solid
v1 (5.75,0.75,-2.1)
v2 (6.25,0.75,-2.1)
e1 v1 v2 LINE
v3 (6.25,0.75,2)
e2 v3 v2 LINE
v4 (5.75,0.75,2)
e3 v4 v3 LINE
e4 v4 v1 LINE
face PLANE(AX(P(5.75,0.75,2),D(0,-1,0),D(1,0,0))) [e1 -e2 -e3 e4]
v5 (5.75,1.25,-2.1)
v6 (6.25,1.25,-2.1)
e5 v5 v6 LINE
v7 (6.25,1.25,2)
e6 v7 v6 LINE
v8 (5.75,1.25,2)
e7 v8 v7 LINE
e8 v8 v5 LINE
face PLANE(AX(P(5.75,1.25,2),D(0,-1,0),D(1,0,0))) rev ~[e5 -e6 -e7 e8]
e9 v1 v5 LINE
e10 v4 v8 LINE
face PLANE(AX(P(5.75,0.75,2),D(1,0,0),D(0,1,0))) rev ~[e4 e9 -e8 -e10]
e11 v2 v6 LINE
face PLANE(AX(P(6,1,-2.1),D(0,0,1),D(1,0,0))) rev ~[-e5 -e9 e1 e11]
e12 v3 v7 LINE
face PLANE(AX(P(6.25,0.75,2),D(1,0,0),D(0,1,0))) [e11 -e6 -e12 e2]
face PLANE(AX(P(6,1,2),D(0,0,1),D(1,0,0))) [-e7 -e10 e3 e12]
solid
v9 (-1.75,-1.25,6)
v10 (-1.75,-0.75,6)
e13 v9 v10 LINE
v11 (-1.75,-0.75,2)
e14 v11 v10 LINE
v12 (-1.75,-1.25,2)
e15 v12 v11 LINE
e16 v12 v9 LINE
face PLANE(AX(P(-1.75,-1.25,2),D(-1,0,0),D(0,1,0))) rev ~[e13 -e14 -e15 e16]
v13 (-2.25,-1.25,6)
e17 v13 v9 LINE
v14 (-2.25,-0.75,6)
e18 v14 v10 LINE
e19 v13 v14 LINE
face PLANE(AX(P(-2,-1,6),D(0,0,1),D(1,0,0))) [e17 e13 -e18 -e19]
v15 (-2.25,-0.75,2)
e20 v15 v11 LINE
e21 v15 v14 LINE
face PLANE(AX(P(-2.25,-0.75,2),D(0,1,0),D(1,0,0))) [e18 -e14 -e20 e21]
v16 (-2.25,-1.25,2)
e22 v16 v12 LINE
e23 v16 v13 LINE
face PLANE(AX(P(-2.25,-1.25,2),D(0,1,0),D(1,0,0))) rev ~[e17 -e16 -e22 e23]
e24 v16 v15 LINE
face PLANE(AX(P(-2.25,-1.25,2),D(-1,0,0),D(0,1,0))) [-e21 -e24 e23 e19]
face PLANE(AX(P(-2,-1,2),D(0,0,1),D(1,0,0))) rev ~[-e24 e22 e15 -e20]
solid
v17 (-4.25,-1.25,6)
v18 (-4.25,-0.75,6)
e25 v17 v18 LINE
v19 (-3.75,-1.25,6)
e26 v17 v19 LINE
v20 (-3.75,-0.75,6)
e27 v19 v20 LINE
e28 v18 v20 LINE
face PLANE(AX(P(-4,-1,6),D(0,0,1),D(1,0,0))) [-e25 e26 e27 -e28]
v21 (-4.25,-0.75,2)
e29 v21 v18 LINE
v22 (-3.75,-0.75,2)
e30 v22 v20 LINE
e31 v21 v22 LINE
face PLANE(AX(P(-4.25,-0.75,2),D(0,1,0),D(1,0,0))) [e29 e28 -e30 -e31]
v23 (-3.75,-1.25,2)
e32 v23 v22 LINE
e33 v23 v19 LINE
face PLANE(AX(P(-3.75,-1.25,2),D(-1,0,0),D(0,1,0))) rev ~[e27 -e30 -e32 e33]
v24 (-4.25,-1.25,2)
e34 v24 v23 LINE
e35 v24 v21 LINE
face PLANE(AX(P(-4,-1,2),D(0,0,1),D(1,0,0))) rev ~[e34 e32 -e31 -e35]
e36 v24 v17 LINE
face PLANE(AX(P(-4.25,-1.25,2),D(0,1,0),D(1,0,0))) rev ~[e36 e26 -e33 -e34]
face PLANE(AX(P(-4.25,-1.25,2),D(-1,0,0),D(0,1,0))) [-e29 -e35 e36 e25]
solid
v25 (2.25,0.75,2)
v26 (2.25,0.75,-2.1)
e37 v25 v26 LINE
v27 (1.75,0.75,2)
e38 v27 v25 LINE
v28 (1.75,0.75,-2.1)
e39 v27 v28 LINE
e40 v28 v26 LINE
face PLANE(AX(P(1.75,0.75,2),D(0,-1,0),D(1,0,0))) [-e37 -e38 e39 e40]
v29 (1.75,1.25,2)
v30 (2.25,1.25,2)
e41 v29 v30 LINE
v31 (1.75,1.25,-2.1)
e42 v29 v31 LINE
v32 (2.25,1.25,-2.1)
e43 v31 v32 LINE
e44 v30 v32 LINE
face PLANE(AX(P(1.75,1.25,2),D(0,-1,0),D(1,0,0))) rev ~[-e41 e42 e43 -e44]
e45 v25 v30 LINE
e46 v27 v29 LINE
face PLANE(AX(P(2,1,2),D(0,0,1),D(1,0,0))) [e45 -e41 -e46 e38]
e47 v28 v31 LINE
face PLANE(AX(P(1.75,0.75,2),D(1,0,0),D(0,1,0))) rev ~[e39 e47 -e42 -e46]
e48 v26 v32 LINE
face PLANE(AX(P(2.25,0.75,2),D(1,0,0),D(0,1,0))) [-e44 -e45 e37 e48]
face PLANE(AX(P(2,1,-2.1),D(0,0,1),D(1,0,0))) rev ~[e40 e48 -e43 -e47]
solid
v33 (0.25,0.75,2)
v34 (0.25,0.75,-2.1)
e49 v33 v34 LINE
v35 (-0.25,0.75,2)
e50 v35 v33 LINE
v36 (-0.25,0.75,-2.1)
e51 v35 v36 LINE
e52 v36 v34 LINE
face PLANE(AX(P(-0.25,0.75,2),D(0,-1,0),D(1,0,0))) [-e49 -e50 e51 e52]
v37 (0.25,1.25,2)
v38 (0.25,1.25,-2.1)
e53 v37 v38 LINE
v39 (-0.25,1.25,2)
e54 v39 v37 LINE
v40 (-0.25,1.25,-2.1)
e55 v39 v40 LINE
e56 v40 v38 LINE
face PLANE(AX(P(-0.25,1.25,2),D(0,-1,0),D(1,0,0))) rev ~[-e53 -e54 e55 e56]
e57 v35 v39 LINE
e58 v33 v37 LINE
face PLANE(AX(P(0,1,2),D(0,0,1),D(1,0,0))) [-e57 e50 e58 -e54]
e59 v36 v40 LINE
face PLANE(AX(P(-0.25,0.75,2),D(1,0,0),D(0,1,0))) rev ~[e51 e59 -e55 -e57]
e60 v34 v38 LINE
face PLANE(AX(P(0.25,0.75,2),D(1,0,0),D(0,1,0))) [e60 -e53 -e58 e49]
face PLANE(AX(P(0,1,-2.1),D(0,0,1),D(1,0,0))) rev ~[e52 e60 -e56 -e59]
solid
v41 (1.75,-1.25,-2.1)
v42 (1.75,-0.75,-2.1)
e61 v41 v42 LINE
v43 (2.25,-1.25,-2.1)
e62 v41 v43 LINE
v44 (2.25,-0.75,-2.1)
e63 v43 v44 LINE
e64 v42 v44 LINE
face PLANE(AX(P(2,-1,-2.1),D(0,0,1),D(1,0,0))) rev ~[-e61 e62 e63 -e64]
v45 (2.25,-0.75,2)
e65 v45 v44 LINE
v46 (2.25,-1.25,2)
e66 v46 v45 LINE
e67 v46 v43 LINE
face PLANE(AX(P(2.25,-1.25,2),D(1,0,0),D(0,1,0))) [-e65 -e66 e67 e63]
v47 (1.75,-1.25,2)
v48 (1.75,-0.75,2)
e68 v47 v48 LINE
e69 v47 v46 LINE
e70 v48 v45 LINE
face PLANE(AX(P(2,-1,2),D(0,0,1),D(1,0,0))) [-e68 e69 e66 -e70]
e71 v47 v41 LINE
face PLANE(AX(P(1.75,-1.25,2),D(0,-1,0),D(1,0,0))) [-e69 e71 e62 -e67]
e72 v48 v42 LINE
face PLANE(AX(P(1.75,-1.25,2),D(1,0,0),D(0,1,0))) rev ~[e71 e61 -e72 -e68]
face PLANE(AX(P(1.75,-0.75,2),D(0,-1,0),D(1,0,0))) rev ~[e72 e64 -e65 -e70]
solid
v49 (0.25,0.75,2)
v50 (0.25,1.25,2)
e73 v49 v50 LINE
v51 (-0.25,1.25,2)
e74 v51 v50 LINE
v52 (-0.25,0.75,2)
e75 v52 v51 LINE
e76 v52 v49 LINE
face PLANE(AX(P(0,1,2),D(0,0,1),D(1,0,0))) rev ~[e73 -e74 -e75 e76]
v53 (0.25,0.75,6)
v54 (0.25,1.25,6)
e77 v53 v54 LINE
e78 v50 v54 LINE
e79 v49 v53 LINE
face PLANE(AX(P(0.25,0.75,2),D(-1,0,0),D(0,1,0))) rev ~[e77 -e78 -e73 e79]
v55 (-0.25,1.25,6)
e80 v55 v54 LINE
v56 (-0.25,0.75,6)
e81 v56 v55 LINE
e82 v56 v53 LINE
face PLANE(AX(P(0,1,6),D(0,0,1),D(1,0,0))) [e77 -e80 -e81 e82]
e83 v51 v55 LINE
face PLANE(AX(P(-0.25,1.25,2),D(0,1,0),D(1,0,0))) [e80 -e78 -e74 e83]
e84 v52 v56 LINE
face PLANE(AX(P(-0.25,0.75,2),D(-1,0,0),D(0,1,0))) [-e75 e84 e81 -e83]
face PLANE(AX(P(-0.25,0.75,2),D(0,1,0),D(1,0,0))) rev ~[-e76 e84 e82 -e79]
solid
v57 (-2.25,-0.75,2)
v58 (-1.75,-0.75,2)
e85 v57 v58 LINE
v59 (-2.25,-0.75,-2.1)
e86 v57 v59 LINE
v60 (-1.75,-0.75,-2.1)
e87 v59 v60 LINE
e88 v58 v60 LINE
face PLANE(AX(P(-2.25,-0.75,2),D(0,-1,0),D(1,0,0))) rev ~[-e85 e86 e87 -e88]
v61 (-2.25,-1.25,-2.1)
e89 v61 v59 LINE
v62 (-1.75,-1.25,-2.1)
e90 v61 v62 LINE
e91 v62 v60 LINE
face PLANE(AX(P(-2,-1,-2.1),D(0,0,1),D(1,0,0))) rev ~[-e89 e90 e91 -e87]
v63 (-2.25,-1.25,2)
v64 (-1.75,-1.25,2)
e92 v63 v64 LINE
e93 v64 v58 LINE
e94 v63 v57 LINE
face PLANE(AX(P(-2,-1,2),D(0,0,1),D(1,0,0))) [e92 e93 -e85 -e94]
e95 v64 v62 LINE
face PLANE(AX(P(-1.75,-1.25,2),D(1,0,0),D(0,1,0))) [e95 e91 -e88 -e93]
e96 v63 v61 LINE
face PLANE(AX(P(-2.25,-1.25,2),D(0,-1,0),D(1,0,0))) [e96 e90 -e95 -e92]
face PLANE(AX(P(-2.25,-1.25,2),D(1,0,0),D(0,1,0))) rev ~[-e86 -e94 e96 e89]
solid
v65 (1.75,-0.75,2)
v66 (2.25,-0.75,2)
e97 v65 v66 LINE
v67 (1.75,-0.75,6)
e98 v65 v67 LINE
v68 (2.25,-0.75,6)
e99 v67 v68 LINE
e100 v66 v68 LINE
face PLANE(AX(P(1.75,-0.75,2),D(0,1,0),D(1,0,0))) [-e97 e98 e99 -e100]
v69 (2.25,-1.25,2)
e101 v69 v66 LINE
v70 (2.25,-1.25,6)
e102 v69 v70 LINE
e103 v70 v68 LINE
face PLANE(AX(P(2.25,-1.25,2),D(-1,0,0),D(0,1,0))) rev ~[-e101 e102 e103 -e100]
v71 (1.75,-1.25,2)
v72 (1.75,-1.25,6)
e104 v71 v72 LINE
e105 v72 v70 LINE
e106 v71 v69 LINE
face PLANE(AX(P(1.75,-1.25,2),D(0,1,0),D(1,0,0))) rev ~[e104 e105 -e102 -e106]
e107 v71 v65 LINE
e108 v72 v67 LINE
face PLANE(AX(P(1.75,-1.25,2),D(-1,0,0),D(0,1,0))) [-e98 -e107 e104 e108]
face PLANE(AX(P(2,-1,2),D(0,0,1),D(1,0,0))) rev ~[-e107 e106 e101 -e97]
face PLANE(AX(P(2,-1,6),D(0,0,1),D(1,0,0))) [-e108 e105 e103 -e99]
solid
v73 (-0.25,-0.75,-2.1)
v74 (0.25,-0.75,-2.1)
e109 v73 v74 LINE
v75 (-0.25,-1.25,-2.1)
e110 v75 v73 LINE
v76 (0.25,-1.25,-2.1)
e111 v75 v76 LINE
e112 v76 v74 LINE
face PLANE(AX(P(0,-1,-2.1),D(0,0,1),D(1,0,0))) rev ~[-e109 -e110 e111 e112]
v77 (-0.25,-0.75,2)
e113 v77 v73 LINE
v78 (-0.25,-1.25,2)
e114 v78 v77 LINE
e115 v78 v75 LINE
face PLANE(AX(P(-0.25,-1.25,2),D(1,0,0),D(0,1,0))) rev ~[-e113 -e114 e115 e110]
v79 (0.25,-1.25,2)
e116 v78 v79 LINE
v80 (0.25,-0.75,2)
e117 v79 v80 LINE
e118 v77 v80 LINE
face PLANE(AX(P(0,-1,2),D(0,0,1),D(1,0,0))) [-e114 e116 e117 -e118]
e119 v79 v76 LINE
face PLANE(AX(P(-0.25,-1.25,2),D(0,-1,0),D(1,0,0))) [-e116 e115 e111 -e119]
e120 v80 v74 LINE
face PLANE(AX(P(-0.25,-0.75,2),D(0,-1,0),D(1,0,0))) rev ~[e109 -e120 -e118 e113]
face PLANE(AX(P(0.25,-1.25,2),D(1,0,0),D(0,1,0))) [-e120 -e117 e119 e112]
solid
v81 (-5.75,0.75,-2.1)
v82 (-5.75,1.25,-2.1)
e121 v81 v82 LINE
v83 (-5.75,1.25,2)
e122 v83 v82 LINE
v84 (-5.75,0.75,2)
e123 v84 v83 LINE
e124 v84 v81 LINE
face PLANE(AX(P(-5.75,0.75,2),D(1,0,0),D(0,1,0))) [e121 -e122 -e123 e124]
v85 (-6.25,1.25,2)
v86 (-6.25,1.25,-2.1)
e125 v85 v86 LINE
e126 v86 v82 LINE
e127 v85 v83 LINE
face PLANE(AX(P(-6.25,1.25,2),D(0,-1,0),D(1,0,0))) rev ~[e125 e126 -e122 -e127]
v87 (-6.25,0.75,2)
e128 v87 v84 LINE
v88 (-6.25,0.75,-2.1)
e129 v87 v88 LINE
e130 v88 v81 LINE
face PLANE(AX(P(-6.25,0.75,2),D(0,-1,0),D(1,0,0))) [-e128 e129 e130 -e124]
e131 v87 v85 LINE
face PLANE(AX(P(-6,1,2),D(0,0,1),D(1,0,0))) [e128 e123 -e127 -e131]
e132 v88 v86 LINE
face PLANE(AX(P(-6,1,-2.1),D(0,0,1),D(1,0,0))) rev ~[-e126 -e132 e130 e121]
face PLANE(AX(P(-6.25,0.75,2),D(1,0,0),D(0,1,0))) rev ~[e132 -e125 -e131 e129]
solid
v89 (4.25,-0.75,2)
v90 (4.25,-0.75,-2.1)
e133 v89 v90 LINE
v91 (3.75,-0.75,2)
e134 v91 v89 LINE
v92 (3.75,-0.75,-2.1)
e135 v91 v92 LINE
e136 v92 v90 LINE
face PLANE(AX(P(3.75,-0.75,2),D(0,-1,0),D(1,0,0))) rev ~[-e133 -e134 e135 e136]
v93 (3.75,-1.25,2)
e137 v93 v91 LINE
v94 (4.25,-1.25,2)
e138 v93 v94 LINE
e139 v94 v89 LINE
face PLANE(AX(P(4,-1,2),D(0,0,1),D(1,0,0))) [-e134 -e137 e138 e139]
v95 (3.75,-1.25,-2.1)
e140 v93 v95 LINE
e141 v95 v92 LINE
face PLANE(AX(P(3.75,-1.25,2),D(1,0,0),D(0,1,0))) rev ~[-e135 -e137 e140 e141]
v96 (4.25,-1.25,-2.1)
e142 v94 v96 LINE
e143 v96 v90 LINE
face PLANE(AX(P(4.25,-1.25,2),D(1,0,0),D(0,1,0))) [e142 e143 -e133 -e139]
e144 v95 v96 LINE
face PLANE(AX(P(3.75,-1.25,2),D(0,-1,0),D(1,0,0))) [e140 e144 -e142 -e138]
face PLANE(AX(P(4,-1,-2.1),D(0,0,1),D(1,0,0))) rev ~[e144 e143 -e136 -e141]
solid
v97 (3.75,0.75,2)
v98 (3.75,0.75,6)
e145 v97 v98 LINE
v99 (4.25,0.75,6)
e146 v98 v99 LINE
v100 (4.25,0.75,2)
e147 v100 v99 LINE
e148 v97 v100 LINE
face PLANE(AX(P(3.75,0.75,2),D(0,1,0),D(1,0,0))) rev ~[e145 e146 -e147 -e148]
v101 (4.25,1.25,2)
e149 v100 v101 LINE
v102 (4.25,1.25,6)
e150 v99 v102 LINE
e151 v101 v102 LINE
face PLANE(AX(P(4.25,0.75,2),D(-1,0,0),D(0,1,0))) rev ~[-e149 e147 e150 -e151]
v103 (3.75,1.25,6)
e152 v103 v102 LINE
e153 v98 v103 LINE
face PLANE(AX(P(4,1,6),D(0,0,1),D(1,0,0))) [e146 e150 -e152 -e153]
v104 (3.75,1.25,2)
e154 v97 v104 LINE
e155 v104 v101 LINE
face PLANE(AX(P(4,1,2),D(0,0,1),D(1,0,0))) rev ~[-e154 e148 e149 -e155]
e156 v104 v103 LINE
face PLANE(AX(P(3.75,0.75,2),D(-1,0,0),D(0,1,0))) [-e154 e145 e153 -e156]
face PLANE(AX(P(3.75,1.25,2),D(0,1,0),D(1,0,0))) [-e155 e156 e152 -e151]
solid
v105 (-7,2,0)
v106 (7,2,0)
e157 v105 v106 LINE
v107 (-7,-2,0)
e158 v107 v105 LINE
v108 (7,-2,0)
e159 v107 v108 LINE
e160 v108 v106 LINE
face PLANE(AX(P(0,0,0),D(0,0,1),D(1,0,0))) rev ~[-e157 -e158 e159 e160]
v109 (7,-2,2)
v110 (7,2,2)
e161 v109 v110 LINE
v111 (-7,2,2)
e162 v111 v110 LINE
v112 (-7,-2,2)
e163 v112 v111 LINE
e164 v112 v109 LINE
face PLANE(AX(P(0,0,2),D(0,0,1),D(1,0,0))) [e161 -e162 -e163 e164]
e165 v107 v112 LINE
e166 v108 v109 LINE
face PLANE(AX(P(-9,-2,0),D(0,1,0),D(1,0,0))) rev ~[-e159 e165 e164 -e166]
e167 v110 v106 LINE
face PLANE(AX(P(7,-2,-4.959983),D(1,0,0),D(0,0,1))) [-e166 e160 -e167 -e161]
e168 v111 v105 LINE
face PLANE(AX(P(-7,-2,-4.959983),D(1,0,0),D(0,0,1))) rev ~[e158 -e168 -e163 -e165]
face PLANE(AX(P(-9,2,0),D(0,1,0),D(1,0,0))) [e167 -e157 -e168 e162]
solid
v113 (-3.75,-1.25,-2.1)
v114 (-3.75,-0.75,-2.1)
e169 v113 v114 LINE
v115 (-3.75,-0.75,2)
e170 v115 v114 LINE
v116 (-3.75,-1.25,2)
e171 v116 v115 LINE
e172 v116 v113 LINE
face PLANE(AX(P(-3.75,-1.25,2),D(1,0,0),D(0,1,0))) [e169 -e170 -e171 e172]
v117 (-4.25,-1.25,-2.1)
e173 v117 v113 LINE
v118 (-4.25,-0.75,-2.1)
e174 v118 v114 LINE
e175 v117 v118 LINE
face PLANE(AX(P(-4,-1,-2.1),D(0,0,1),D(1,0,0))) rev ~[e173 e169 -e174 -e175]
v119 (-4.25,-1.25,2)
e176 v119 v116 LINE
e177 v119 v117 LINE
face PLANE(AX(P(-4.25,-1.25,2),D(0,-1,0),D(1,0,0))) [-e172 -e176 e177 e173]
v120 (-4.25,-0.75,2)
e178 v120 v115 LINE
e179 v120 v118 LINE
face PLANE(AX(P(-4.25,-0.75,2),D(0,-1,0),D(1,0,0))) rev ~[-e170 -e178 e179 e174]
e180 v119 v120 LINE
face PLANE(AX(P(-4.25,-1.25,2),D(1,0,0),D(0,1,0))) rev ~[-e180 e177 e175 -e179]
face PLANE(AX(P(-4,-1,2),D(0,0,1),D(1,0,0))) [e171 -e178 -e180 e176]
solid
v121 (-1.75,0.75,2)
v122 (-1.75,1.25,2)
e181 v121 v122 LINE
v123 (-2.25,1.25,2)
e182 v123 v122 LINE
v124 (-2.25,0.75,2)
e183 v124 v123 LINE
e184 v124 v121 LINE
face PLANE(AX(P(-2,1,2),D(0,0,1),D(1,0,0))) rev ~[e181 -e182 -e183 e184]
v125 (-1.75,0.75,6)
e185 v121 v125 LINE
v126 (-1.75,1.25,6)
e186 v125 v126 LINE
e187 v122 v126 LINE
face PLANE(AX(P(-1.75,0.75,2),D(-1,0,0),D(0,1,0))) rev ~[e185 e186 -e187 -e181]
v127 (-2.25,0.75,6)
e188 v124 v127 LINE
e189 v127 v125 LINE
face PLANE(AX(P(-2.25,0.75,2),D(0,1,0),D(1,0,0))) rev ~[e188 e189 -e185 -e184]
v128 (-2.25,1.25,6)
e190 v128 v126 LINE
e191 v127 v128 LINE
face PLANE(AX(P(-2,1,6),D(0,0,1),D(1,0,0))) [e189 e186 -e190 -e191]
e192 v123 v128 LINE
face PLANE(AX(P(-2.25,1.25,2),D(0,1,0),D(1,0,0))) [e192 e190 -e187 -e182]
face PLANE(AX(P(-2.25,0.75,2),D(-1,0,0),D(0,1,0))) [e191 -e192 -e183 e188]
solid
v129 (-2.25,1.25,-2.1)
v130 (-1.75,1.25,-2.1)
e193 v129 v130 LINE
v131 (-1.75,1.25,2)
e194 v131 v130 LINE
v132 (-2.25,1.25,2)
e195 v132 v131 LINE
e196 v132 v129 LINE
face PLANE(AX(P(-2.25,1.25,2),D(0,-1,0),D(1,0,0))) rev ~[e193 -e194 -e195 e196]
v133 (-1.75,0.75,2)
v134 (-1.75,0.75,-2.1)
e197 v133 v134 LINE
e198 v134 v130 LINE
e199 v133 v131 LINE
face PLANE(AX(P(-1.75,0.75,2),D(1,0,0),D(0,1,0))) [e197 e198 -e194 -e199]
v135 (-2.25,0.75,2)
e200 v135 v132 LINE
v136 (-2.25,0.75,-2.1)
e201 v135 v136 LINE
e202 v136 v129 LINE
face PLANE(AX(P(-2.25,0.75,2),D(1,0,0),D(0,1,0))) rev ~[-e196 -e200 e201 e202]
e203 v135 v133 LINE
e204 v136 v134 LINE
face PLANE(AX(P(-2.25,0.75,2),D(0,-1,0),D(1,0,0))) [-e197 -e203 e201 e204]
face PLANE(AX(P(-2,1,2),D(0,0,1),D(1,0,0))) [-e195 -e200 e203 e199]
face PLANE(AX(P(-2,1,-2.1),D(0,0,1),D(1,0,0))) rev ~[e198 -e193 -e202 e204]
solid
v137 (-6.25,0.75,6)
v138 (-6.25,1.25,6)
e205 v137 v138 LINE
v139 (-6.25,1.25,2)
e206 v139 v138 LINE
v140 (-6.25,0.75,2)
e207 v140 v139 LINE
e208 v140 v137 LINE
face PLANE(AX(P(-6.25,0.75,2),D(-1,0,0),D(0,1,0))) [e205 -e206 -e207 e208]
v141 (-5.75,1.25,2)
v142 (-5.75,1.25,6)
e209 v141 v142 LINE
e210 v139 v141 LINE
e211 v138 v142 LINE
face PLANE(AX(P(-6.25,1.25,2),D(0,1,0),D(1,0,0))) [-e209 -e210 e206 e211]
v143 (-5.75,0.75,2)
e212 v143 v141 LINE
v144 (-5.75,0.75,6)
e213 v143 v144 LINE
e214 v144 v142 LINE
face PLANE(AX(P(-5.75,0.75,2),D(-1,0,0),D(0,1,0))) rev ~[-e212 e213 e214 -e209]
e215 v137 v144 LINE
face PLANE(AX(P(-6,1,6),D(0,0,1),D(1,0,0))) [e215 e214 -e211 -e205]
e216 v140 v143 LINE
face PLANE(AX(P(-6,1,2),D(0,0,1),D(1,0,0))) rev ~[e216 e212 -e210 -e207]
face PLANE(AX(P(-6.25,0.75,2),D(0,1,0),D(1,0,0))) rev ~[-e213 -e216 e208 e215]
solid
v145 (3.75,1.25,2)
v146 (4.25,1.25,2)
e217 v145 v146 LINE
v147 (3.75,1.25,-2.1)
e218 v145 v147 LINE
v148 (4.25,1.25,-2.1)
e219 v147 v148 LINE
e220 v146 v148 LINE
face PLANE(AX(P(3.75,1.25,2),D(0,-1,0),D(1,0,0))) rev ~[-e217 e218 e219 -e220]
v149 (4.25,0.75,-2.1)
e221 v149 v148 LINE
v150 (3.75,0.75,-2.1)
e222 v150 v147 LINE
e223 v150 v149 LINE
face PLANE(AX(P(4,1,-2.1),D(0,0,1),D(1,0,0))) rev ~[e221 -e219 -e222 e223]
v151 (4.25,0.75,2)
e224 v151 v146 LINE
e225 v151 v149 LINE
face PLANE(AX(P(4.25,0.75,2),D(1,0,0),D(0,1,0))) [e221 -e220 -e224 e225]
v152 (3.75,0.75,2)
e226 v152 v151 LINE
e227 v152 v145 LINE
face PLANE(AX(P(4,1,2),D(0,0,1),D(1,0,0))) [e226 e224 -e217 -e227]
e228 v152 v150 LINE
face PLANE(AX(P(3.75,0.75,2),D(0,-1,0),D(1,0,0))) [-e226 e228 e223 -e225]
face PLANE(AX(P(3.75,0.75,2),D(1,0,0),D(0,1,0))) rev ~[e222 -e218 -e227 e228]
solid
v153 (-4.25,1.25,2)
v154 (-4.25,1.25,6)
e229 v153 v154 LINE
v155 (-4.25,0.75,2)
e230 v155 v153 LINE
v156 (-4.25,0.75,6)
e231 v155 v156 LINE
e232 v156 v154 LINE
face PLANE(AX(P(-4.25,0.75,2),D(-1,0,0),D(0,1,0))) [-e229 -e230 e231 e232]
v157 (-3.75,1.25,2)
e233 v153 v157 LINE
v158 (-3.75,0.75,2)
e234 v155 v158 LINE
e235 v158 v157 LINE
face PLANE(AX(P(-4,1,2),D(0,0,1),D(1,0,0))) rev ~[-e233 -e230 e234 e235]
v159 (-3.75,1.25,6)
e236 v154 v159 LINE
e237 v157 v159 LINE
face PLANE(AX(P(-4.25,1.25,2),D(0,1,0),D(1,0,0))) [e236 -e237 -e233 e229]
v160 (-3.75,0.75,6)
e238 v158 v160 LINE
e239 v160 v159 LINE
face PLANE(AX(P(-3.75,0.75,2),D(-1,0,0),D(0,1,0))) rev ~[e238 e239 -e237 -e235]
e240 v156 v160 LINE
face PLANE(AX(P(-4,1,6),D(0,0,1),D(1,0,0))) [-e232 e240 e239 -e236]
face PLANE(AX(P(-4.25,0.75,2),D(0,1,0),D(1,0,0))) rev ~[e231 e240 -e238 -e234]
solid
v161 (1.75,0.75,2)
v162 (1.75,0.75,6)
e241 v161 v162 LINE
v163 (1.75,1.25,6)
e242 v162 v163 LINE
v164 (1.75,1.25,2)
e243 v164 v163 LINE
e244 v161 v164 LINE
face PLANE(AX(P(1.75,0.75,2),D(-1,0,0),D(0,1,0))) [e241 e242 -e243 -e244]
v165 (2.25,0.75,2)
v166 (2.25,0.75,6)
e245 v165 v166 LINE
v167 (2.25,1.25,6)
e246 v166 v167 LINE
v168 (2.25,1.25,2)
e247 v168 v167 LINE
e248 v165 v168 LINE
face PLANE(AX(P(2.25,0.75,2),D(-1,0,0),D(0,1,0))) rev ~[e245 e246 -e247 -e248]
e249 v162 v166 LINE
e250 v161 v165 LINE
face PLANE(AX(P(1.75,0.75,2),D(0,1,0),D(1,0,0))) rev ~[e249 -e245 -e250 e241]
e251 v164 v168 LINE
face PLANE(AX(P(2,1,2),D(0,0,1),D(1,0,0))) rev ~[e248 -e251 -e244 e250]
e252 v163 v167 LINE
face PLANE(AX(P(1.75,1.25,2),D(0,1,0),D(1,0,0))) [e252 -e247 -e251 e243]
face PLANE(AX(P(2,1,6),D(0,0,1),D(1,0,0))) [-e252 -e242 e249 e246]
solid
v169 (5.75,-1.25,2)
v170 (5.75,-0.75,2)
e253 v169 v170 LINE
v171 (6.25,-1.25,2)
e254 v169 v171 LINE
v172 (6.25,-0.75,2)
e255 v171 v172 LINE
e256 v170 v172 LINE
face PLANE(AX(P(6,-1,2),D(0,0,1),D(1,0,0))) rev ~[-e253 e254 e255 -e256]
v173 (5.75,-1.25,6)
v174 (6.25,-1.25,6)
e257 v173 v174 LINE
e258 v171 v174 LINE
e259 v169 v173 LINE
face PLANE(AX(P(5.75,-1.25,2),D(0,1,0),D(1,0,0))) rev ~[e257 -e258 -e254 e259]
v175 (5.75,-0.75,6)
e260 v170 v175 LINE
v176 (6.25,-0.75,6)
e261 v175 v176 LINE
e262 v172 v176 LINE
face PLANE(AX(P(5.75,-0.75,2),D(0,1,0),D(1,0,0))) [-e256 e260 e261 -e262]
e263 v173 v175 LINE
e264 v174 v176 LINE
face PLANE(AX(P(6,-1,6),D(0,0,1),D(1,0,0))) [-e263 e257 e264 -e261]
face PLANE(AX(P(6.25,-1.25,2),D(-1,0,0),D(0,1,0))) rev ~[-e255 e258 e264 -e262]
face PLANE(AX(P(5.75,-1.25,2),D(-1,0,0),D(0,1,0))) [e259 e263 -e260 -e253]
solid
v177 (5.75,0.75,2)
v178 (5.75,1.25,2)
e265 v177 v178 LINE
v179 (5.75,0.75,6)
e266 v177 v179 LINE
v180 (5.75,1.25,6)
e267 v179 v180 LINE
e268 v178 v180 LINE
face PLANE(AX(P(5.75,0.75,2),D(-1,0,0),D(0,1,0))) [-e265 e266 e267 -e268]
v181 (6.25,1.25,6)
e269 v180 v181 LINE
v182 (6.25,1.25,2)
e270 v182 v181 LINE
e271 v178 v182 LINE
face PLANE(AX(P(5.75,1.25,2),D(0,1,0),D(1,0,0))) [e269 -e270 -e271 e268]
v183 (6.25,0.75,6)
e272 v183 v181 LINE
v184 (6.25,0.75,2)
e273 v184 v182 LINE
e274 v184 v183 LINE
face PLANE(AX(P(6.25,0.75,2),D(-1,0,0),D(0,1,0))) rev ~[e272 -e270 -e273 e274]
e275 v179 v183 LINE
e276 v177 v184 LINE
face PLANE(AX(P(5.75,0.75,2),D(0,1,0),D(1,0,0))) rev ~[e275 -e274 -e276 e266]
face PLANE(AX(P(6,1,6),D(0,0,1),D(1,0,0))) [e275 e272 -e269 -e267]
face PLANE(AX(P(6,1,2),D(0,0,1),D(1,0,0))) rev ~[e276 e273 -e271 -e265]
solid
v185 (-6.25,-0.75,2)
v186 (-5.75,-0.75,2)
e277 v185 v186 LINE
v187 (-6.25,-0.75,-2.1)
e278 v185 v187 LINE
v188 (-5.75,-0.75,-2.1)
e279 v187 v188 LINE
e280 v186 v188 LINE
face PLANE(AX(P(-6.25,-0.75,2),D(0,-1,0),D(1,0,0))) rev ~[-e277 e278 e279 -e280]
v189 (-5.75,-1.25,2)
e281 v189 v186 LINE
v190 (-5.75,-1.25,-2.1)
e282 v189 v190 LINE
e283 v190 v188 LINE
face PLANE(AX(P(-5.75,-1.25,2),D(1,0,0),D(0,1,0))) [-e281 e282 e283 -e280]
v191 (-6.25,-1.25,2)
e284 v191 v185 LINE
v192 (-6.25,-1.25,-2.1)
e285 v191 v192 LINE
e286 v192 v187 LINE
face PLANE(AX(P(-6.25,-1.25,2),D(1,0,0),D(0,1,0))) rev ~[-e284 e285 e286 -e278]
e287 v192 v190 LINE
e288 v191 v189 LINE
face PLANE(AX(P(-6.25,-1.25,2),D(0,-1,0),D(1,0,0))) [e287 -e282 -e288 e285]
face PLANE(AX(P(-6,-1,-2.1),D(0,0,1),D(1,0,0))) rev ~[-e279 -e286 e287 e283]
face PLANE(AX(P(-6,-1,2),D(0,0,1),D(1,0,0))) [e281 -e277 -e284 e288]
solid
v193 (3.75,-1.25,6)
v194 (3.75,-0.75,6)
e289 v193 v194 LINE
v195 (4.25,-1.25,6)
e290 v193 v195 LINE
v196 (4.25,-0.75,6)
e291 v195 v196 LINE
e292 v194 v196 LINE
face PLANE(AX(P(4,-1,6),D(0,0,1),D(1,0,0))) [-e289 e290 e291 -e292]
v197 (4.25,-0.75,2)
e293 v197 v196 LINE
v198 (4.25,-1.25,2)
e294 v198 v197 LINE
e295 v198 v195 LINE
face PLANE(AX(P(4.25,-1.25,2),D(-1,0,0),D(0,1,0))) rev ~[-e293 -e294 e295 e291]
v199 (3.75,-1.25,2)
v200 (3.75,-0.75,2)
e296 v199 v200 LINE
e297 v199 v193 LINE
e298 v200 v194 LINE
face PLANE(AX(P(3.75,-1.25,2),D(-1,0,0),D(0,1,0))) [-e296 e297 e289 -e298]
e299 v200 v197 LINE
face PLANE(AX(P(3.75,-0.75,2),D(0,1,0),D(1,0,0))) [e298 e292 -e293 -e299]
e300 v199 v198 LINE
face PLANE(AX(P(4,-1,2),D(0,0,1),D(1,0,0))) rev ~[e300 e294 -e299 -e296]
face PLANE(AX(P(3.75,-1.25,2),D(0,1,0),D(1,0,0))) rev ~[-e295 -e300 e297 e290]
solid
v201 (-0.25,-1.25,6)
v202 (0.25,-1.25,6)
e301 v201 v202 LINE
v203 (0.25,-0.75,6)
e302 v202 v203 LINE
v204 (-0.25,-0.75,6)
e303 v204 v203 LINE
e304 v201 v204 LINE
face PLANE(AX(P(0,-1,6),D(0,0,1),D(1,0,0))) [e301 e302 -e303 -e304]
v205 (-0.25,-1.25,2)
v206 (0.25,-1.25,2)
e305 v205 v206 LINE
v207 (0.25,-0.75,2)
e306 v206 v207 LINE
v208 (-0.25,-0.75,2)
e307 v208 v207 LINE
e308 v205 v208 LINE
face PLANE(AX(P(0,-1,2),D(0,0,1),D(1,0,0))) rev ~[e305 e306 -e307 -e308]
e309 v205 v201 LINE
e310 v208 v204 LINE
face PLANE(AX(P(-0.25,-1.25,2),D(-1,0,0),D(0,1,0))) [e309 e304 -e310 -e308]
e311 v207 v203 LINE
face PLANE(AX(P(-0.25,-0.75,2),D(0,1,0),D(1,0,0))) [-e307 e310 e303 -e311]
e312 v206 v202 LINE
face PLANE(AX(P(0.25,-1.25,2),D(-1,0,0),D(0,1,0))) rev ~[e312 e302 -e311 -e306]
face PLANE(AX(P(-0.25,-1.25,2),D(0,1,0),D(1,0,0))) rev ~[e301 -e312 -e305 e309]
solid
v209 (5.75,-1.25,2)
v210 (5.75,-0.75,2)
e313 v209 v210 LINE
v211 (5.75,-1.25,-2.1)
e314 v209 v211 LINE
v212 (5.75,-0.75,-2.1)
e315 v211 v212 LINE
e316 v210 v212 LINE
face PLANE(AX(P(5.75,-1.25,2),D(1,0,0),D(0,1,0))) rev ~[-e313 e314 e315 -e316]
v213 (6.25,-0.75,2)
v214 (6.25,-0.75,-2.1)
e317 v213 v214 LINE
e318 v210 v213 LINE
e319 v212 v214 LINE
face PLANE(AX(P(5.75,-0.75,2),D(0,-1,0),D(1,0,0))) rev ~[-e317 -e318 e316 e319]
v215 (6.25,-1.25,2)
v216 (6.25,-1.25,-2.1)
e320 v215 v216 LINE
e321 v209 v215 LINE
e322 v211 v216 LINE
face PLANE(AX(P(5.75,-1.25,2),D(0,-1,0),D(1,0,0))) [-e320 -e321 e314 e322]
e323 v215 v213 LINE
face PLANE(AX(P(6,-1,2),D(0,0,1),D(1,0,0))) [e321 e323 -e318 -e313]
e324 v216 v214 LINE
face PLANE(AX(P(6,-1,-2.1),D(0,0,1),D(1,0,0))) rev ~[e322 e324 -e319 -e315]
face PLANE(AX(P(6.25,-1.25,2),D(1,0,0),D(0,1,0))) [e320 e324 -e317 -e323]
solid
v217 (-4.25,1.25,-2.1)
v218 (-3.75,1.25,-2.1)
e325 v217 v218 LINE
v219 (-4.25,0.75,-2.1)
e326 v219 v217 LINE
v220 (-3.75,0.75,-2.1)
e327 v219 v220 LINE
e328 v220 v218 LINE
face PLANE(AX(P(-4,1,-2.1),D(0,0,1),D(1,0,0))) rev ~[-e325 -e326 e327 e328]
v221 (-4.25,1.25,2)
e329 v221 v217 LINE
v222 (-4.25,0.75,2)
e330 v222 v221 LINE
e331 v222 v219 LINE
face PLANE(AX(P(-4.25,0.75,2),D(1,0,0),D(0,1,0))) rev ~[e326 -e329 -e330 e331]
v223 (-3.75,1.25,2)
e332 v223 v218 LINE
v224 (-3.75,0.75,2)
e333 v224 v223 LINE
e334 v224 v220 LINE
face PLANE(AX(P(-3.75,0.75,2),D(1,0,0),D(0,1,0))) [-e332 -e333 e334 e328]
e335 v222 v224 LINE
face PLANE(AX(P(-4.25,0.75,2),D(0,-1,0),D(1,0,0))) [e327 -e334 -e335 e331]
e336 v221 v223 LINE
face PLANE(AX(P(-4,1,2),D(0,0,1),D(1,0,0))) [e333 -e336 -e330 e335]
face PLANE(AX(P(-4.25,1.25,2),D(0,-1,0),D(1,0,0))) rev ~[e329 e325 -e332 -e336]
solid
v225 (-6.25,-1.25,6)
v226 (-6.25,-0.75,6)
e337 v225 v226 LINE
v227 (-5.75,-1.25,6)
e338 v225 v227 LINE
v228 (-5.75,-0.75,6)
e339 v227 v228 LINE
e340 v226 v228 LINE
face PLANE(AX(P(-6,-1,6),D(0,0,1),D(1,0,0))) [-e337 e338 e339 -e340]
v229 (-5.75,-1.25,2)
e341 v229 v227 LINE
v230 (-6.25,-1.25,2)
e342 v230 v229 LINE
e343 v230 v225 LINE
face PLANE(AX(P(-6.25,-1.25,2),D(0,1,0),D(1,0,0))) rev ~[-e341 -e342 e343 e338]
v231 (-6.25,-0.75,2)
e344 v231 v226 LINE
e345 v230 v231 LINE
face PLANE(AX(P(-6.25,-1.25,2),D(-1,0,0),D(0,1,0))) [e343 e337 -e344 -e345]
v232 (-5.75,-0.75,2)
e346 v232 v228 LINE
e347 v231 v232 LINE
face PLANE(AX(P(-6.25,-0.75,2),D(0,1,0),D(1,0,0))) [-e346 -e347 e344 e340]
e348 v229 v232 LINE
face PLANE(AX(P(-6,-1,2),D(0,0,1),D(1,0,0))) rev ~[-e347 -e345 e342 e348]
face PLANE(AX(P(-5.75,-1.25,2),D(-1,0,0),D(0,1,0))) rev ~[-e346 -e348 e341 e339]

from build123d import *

# Parameters (mm, degrees)
F0_W     = 18
F0_H     = 4
F1_DEPTH = 2
F2_W     = 0.5
F2_H     = 0.5
F3_DEPTH = 4
F4_DEPTH = 4.1
F5_W     = 4.363794
F5_H     = 11.277623
F6_DEPTH = 4.001


with BuildPart() as f1:
    # F0 (on Top) → F1 (new body)
    with BuildSketch(Plane.XY):
        Rectangle(F0_W, F0_H)
    extrude(amount=F1_DEPTH)


with BuildPart() as f3:
    # F2 (on face) → F3 (new body)
    with BuildSketch(Plane.XY.offset(2)):
        with Locations((0, 1)):
            Rectangle(F2_W, F2_H)
        with Locations((0, -1)):
            Rectangle(F2_W, F2_H)
        with Locations((-2, -1)):
            Rectangle(F2_W, F2_H)
        with Locations((-2, 1)):
            Rectangle(F2_W, F2_H)
        with Locations((-4, -1)):
            Rectangle(F2_W, F2_H)
        with Locations((-4, 1)):
            Rectangle(F2_W, F2_H)
        with Locations((-6, -1)):
            Rectangle(F2_W, F2_H)
        with Locations((-6, 1)):
            Rectangle(F2_W, F2_H)
        with Locations((-8, 1)):
            Rectangle(F2_W, F2_H)
        with Locations((-8, -1)):
            Rectangle(F2_W, F2_H)
        with Locations((8, 1)):
            Rectangle(F2_W, F2_H)
        with Locations((6, -1)):
            Rectangle(F2_W, F2_H)
        with Locations((4, 1)):
            Rectangle(F2_W, F2_H)
        with Locations((4, -1)):
            Rectangle(F2_W, F2_H)
        with Locations((6, 1)):
            Rectangle(F2_W, F2_H)
        with Locations((8, -1)):
            Rectangle(F2_W, F2_H)
        with Locations((2, 1)):
            Rectangle(F2_W, F2_H)
        with Locations((2, -1)):
            Rectangle(F2_W, F2_H)
    extrude(amount=F3_DEPTH)


with BuildPart() as f4:
    # F2 (on face) → F4 (new body)
    with BuildSketch(Plane.XY.offset(2)):
        with Locations((0, 1)):
            Rectangle(F2_W, F2_H)
        with Locations((0, -1)):
            Rectangle(F2_W, F2_H)
        with Locations((-2, -1)):
            Rectangle(F2_W, F2_H)
        with Locations((-2, 1)):
            Rectangle(F2_W, F2_H)
        with Locations((-4, -1)):
            Rectangle(F2_W, F2_H)
        with Locations((-4, 1)):
            Rectangle(F2_W, F2_H)
        with Locations((-6, -1)):
            Rectangle(F2_W, F2_H)
        with Locations((-6, 1)):
            Rectangle(F2_W, F2_H)
        with Locations((-8, 1)):
            Rectangle(F2_W, F2_H)
        with Locations((-8, -1)):
            Rectangle(F2_W, F2_H)
        with Locations((8, 1)):
            Rectangle(F2_W, F2_H)
        with Locations((6, -1)):
            Rectangle(F2_W, F2_H)
        with Locations((4, 1)):
            Rectangle(F2_W, F2_H)
        with Locations((4, -1)):
            Rectangle(F2_W, F2_H)
        with Locations((6, 1)):
            Rectangle(F2_W, F2_H)
        with Locations((8, -1)):
            Rectangle(F2_W, F2_H)
        with Locations((2, 1)):
            Rectangle(F2_W, F2_H)
        with Locations((2, -1)):
            Rectangle(F2_W, F2_H)
    extrude(amount=-F4_DEPTH)


with BuildPart() as f6_tool:
    # F5 (on face) → F6 (new body, through all)
    with BuildSketch(Plane.XZ.offset(2)):
        with Locations((9.181897, 0.678828)):
            Rectangle(F5_W, F5_H)
        with Locations((-9.181897, 0.678828)):
            Rectangle(F5_W, F5_H)
    extrude(amount=-F6_DEPTH)


with BuildPart() as f1_1:
    add(f1.part)

    # F6: cut by f6_tool
    add(f6_tool.part, mode=Mode.SUBTRACT)


with BuildPart() as f3_1:
    add(f3.part)

    # F6: cut by f6_tool
    add(f6_tool.part, mode=Mode.SUBTRACT)


with BuildPart() as f4_1:
    add(f4.part)

    # F6: cut by f6_tool
    add(f6_tool.part, mode=Mode.SUBTRACT)


solid = Compound([f1_1.part, f3_1.part, f4_1.part])
